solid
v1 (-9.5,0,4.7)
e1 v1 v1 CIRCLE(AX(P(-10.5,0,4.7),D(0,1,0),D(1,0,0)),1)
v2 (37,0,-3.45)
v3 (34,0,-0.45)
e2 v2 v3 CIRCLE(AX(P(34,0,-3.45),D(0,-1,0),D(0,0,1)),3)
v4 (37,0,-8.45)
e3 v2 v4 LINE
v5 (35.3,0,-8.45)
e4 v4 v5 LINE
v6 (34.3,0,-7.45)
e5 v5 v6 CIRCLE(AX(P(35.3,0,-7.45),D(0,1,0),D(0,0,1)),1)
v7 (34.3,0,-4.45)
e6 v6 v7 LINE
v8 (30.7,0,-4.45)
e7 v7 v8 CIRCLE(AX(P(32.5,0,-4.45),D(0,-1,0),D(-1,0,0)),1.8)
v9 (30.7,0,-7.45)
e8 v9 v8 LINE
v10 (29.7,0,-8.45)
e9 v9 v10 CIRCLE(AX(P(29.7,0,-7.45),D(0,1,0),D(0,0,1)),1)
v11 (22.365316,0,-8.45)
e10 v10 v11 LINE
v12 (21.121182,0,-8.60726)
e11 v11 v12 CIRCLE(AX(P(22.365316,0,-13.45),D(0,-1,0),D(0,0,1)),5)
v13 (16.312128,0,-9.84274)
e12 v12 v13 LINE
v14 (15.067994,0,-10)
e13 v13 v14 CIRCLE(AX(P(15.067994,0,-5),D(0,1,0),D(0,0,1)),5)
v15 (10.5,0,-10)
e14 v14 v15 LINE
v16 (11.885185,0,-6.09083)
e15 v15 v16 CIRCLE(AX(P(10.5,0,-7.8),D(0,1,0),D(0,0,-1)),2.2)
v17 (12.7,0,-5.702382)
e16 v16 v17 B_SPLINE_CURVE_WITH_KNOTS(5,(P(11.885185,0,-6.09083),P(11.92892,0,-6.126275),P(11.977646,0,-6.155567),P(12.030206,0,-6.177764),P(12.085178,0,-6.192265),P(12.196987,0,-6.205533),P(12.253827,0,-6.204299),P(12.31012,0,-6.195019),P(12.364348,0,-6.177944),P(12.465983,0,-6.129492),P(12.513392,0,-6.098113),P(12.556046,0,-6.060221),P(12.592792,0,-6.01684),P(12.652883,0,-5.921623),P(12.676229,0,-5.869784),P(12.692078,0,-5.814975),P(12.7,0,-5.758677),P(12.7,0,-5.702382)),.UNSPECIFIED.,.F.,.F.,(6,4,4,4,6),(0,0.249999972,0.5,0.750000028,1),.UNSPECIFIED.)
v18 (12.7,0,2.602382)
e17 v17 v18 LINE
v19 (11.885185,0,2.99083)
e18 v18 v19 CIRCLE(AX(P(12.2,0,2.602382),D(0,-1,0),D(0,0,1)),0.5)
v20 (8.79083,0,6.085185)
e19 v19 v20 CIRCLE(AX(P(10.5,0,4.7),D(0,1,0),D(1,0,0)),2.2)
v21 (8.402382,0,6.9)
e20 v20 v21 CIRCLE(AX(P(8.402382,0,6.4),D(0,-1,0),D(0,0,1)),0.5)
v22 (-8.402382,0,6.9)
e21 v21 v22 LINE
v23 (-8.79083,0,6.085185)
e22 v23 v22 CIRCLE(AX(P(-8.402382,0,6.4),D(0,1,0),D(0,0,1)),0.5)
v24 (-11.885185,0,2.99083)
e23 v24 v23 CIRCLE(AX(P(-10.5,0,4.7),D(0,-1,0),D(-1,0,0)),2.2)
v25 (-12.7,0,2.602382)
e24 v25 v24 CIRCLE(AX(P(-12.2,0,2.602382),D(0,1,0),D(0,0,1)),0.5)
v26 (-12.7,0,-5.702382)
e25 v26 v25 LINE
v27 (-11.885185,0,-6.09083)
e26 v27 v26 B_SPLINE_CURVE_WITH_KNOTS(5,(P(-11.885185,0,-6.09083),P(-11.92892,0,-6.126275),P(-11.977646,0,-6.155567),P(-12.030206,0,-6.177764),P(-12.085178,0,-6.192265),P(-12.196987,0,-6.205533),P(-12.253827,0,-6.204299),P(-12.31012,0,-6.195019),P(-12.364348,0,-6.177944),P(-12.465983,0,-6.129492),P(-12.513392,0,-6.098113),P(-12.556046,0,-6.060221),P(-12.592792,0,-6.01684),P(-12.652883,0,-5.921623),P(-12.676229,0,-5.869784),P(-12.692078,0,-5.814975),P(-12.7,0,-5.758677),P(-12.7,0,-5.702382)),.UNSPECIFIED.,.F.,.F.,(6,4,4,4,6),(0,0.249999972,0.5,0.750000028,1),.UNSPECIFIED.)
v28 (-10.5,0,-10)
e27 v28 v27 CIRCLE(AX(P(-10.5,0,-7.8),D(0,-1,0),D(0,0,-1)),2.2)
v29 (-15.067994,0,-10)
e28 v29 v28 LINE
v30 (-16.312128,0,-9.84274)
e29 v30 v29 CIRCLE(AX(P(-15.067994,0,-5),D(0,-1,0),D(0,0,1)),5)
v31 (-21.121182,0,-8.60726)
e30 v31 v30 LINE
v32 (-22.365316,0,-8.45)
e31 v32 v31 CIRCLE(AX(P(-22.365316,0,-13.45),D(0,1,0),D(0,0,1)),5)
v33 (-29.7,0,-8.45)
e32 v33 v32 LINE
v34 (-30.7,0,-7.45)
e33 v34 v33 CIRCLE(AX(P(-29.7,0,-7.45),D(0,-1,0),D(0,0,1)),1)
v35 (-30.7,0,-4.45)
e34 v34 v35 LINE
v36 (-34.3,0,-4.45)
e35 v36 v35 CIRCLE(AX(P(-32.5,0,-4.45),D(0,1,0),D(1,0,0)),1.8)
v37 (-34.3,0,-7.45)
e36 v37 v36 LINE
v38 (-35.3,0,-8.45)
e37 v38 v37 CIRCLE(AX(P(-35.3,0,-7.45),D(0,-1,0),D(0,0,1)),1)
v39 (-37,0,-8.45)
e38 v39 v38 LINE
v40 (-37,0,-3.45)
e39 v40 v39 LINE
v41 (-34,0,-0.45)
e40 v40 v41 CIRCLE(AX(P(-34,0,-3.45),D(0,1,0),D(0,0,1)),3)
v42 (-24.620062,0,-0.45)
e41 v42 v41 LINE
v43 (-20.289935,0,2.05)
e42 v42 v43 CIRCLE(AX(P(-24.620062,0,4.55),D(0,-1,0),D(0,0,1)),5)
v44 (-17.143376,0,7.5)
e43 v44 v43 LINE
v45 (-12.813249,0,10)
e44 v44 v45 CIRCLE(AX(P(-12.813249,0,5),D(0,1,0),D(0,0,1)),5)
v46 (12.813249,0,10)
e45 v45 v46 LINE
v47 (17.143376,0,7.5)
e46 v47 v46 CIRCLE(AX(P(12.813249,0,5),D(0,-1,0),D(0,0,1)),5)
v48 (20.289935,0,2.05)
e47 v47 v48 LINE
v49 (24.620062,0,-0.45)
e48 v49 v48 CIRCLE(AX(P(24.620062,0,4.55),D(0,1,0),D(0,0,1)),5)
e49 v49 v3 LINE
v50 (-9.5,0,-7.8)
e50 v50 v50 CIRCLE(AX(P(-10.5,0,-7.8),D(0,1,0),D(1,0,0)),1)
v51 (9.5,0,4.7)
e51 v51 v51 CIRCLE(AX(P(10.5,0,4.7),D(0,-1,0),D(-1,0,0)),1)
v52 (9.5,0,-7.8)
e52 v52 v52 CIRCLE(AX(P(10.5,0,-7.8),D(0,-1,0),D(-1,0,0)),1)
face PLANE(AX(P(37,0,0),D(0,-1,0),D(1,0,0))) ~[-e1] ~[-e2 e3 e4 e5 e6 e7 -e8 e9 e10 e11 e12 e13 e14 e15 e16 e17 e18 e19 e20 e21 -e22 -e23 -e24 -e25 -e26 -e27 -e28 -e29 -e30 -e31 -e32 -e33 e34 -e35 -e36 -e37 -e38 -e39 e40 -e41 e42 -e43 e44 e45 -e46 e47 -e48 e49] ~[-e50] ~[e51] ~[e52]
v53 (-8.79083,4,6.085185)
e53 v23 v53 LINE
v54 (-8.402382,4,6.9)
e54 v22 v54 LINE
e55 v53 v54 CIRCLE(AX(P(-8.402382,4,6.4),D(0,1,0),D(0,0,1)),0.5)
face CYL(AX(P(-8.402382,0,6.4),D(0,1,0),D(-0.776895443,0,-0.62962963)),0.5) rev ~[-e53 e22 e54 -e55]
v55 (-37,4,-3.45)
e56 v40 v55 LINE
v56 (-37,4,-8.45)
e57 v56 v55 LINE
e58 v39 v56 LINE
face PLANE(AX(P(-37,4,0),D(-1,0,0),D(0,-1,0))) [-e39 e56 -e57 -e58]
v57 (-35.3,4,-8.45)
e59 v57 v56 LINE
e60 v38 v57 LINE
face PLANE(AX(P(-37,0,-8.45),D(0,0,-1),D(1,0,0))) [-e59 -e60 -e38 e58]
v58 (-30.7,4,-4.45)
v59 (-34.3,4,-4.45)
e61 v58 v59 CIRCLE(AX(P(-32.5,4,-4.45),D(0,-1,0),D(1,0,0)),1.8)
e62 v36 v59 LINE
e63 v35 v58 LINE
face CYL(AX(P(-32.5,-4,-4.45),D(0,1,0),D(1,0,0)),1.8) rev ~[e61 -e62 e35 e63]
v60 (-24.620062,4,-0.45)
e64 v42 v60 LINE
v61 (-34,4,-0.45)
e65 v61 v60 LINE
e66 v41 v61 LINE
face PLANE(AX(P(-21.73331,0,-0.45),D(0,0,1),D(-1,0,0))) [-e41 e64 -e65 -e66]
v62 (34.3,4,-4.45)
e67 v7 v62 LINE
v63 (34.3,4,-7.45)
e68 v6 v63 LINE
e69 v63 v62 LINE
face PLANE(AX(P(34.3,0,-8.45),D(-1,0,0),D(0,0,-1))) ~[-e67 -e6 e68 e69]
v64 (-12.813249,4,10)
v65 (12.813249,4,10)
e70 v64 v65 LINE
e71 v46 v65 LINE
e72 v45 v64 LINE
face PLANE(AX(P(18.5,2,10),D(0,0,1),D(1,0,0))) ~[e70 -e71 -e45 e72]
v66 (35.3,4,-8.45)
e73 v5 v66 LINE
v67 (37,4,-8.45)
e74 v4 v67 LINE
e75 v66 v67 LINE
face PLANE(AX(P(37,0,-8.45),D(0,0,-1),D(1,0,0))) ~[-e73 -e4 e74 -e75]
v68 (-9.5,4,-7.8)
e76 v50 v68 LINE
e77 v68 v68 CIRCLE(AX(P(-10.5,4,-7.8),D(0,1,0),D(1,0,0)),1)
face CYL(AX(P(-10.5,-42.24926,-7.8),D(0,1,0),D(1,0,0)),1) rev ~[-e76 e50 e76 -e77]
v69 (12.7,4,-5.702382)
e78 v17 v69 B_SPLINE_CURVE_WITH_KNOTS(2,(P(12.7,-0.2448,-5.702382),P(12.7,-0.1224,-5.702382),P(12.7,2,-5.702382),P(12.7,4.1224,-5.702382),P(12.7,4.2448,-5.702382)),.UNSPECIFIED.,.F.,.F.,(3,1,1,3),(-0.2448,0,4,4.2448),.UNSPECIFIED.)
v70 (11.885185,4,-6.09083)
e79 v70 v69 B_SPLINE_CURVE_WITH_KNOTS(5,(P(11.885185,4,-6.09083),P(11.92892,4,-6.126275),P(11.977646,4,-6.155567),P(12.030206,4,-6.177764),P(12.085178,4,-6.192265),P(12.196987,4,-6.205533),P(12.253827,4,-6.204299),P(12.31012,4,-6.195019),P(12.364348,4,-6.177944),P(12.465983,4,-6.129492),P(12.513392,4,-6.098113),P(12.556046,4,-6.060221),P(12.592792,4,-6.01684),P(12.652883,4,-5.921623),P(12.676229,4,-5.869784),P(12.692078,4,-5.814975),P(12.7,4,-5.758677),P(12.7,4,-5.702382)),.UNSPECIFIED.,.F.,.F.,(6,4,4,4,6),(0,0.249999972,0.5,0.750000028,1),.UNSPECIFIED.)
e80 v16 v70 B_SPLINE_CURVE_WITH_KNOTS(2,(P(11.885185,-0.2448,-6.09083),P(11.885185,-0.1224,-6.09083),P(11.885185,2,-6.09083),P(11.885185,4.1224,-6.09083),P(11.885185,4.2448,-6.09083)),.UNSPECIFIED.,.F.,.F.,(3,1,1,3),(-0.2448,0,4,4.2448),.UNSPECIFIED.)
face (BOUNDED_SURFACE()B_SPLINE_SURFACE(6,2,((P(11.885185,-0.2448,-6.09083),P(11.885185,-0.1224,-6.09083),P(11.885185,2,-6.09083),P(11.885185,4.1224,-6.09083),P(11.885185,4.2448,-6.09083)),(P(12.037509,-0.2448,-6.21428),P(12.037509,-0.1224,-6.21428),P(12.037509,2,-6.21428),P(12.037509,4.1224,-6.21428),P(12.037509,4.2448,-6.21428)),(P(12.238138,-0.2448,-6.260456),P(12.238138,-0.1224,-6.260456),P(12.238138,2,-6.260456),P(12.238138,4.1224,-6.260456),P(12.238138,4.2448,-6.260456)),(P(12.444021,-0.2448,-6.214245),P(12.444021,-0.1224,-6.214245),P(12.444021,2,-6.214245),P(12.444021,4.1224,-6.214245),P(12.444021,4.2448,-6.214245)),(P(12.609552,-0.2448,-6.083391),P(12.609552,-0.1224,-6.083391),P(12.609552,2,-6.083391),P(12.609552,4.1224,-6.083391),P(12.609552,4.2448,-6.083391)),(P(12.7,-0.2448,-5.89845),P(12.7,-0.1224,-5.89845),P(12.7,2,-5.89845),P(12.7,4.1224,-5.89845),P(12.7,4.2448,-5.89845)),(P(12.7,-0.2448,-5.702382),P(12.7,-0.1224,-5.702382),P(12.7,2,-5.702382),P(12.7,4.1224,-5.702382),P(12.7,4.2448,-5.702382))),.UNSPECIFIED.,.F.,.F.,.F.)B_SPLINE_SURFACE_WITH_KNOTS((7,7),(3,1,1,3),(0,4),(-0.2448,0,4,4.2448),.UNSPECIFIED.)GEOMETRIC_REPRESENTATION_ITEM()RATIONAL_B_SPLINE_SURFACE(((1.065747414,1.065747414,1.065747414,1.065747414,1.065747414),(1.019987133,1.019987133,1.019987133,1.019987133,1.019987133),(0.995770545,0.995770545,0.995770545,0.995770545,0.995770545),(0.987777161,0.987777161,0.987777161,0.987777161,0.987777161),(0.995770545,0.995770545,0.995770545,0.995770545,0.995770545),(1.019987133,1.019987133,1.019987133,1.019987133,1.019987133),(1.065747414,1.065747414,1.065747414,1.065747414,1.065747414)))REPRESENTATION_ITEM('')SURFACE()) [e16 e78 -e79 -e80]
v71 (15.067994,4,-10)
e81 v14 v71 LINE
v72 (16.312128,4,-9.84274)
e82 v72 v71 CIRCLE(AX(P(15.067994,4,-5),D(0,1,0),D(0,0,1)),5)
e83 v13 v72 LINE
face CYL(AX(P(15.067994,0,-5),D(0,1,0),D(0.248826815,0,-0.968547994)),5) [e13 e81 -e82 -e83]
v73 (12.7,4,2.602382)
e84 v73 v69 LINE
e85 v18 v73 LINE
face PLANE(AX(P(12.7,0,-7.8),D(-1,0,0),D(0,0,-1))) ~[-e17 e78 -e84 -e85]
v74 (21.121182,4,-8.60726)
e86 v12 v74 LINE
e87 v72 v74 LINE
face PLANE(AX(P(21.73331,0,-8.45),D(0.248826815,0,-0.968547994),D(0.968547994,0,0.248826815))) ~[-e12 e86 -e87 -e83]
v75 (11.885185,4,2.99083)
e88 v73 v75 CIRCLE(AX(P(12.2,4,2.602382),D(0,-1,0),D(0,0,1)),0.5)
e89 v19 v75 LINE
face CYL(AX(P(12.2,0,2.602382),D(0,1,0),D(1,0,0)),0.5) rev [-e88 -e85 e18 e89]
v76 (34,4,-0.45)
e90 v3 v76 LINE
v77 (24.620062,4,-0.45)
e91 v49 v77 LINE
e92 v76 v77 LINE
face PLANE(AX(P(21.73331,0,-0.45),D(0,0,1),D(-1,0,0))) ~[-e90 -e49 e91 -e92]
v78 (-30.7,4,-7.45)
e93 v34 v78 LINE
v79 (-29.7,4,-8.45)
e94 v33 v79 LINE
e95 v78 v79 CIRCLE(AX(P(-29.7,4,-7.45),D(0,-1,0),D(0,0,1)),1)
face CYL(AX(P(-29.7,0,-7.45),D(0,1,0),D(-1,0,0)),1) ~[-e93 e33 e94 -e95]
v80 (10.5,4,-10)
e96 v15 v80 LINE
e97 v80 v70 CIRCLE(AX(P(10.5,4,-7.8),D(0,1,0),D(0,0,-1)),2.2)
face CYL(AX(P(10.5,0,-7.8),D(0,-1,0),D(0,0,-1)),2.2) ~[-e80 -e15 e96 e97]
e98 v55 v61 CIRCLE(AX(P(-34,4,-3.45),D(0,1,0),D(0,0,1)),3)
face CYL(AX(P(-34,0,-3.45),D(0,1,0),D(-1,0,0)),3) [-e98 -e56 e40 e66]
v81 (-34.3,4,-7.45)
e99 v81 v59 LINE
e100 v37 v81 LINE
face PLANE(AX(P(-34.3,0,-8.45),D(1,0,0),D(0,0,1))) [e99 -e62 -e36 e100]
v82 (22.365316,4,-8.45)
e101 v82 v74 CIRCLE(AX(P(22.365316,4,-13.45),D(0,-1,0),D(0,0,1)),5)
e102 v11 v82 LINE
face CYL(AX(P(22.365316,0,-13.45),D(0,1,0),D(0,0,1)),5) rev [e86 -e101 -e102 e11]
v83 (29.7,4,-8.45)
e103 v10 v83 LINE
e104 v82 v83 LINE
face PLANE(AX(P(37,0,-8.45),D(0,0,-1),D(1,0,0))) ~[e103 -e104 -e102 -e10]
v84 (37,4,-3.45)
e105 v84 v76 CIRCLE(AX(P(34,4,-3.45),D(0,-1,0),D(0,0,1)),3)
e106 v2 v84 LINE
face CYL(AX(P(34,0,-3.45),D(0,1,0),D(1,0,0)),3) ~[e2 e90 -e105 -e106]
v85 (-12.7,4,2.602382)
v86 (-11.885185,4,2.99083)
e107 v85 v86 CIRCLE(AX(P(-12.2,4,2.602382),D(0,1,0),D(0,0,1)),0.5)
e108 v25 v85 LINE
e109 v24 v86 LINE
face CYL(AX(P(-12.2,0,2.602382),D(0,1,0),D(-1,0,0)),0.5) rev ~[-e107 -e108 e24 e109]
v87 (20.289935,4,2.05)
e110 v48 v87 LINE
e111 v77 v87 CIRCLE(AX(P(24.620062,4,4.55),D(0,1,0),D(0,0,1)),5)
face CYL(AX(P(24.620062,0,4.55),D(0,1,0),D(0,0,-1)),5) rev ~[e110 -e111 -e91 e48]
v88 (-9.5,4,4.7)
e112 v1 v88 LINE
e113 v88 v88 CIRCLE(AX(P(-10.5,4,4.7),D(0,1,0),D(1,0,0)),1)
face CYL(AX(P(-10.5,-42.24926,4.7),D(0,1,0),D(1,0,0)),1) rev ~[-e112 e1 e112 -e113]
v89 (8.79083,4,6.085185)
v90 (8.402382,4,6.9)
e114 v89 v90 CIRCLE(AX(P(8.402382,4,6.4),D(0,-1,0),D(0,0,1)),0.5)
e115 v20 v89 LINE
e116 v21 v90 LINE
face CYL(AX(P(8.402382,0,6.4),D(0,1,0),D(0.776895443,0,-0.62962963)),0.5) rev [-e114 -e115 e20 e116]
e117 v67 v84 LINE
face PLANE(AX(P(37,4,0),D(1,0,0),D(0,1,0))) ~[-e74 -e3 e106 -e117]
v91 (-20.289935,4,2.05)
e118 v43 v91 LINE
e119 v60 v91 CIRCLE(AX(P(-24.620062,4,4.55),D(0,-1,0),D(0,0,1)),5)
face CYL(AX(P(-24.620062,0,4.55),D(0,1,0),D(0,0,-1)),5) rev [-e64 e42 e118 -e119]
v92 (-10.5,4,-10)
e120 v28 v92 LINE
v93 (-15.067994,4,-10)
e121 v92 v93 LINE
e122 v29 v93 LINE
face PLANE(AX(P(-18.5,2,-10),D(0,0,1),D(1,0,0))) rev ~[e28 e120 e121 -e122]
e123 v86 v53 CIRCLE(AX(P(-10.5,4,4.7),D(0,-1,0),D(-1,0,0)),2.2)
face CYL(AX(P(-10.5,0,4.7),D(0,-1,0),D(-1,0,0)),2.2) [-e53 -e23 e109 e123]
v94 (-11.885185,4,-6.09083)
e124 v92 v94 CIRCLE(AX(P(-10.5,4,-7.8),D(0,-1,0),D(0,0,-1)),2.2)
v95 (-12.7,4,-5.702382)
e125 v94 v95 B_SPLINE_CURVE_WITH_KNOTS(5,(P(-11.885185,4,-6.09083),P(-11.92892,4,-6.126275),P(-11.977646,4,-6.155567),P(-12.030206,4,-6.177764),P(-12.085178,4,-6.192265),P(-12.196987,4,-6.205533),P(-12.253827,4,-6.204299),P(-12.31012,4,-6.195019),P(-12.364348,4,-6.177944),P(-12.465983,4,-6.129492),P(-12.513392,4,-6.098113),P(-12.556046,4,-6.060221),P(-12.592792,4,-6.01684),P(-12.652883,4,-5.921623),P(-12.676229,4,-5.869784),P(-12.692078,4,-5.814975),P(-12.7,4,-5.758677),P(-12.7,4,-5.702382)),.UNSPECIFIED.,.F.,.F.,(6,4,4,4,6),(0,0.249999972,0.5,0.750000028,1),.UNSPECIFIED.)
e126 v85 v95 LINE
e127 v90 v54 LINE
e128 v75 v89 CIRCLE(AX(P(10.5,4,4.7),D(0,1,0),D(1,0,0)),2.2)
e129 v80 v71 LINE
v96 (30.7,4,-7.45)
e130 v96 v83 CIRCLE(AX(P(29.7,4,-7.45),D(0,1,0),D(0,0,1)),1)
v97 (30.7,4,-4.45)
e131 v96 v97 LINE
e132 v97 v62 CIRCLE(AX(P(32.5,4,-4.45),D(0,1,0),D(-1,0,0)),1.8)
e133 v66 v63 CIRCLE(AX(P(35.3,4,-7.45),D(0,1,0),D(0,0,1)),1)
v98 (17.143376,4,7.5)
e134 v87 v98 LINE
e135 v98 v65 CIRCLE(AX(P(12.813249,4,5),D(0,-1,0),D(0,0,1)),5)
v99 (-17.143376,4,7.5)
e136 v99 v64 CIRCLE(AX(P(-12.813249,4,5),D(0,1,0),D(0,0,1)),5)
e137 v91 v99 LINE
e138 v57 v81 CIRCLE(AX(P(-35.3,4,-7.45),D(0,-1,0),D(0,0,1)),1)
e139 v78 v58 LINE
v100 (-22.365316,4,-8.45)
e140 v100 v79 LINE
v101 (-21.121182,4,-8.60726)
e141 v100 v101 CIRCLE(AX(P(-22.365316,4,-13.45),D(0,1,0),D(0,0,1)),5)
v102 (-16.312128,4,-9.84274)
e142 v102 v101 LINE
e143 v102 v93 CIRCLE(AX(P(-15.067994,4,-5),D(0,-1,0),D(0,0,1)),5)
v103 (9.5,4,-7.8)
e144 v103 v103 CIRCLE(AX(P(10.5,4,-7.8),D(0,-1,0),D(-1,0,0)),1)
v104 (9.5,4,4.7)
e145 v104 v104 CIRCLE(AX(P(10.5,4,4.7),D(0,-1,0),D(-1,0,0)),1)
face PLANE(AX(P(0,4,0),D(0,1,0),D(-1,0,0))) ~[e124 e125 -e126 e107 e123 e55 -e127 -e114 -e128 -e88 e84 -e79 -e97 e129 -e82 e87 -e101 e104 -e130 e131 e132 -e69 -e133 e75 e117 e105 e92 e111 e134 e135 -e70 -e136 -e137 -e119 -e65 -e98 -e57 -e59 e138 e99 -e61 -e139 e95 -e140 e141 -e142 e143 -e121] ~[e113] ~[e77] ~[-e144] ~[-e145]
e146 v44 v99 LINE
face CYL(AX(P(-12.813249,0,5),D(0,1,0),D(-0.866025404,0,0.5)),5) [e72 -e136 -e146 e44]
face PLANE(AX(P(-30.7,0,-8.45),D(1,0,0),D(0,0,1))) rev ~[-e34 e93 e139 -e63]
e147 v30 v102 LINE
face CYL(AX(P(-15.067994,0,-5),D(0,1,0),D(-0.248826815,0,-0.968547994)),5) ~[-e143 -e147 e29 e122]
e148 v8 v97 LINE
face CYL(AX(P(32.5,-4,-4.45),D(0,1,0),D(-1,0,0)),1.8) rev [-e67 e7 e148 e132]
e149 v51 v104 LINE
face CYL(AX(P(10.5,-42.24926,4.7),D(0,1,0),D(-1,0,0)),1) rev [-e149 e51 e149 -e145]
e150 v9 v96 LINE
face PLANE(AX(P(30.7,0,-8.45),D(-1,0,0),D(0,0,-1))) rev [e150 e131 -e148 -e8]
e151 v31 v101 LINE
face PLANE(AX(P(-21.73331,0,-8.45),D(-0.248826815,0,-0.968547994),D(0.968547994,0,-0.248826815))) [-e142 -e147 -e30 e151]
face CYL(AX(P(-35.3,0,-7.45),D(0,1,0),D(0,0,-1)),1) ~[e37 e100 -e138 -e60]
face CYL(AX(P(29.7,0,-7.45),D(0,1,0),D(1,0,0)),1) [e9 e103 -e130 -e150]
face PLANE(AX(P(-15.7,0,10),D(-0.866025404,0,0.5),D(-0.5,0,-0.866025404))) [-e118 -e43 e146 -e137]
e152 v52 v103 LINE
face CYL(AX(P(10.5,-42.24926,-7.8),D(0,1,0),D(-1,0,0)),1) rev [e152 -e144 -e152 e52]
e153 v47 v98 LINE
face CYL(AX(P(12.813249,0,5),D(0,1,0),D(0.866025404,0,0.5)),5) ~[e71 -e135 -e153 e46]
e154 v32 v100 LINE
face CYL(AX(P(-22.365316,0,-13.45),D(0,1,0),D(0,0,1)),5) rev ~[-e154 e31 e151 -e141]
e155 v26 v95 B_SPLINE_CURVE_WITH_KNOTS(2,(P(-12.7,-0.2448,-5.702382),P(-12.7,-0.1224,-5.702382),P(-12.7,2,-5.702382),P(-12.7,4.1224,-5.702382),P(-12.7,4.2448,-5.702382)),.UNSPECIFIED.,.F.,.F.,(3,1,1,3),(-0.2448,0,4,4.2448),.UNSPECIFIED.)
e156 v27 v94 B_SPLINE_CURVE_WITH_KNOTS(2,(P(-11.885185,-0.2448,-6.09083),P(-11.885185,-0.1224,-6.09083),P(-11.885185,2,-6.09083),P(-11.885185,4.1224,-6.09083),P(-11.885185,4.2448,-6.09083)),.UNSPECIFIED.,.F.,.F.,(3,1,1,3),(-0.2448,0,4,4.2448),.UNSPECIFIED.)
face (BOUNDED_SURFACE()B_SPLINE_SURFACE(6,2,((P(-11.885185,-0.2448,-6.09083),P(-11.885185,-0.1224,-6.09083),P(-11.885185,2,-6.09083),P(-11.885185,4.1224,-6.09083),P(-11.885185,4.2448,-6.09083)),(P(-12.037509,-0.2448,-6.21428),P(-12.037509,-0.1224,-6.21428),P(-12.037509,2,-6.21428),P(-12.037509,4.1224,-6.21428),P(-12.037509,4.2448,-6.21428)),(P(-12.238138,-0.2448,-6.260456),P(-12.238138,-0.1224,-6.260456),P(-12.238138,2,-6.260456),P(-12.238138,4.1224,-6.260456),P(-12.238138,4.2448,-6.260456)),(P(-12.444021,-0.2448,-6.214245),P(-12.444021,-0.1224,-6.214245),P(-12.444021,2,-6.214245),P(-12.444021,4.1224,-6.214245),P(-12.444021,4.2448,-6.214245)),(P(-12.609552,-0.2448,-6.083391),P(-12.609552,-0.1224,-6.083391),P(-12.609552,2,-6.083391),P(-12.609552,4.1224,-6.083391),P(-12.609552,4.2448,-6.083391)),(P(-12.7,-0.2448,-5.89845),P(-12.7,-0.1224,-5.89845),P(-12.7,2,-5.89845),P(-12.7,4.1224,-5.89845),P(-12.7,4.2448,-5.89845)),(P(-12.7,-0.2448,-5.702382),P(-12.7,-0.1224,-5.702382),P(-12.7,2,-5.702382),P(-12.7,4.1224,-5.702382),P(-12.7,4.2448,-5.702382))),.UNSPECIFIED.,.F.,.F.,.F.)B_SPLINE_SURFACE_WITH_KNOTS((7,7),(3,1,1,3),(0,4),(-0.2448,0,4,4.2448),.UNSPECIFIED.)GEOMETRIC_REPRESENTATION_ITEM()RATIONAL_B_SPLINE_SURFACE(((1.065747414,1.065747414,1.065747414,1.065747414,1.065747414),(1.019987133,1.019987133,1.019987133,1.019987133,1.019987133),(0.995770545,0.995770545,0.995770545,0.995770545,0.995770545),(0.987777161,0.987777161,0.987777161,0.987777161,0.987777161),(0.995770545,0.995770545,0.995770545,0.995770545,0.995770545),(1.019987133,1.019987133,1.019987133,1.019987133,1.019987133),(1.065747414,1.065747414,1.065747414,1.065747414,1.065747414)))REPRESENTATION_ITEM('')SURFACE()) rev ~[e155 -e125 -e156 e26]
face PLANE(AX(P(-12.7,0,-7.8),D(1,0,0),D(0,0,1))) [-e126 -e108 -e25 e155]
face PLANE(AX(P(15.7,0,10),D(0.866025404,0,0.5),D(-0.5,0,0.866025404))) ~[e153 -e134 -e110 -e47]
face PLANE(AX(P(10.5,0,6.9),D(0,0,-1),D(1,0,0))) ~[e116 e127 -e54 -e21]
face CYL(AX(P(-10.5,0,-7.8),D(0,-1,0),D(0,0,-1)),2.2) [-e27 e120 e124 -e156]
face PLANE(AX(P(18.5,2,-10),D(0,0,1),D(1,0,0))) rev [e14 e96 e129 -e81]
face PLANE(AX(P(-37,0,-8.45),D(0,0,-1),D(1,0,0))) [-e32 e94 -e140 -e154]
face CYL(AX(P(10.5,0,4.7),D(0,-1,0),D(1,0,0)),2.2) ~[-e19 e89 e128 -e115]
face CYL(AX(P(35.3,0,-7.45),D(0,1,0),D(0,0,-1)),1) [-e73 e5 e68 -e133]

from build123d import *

# Parameters (mm, degrees)
BOSS_EXTRUDE1_DEPTH      = 10
SKETCH2_OUTSIDE_W        = 47.45
SKETCH2_OUTSIDE_H        = 30.449999999999996
CUT_EXTRUDE1_DEPTH       = 20
F_2_0MM_DOWEL_HOLE1_D    = 2
M3_CLEARANCE_HOLE1_D     = 3.6
M3_CLEARANCE_HOLE1_DEPTH = 4
M3_CLEARANCE_HOLE1_TIP   = 1.0815491142496085
FILLET2_R                = 3
FILLET3_R                = 5
FILLET5_R                = 0.5
CUT_EXTRUDE2_REACH       = 40.536
SKETCH14_W               = 3.6000000000000014
SKETCH14_H               = 4
FILLET6_R                = 1


with BuildPart() as part:
    # Sketch1 → Boss-Extrude1 (new, symmetric)
    with BuildSketch(Plane.XY):
        Polygon((0, 0), (0, 4), (-37, 3.9999999999999956), (-37, 0), align=None)
    extrude(amount=BOSS_EXTRUDE1_DEPTH, both=True)

    # Sketch2 outside → Cut-Extrude1 (cut)
    with BuildSketch(Plane.XZ):
        with Locations((-18.5, 0)):
            Rectangle(SKETCH2_OUTSIDE_W, SKETCH2_OUTSIDE_H)
        with BuildLine():
            Line((-12.7, -7.800000000000001), (-12.699999999999998, 4.7))
            ThreePointArc((-12.699999999999998, 4.7), (-8.944365081389599, 3.144365081389597), (-10.5, 6.899999999999999))
            Line((-10.5, 6.899999999999999), (3.8e-16, 6.9))
            Line((3.8e-16, 6.9), (0, 10))
            Line((0, 10), (-15.699999999999996, 10.000000000000002))
            Line((-15.699999999999996, 10.000000000000002), (-21.733310313031556, -0.449999999999999))
            Line((-21.733310313031556, -0.449999999999999), (-37, -0.4499999999999973))
            Line((-37, -0.4499999999999973), (-37, -8.450000000000001))
            Line((-37, -8.450000000000001), (-21.733310313031556, -8.45))
            Line((-21.733310313031556, -8.45), (-15.699999999999996, -10.000000000000002))
            Line((-15.699999999999996, -10.000000000000002), (-10.499999999999998, -9.999999999999998))
            ThreePointArc((-10.499999999999998, -9.999999999999998), (-8.944365081389593, -6.244365081389596), (-12.7, -7.800000000000001))
        make_face(mode=Mode.SUBTRACT)
    extrude(amount=-CUT_EXTRUDE1_DEPTH, mode=Mode.SUBTRACT)

    # Ø2.0mm Dowel Hole1 (through all)
    with Locations(Plane(origin=(0, 0, 0), x_dir=(-1, 0, 0), z_dir=(0, -1, 0))):
        with Locations((10.5, -4.7), (10.5, 7.8)):
            Hole(F_2_0MM_DOWEL_HOLE1_D / 2)

    # M3 Clearance Hole1
    with Locations(Plane(origin=(0, 0, 0), x_dir=(-1, 0, 0), z_dir=(0, -1, 0))):
        with Locations((32.5, 4.45)):
            Hole(M3_CLEARANCE_HOLE1_D / 2, depth=M3_CLEARANCE_HOLE1_DEPTH)
            with Locations((0, 0, -(M3_CLEARANCE_HOLE1_DEPTH + M3_CLEARANCE_HOLE1_TIP / 2))):  # 118° drill point
                Cone(0, M3_CLEARANCE_HOLE1_D / 2, M3_CLEARANCE_HOLE1_TIP, mode=Mode.SUBTRACT)

    # Fillet2
    fillet2_edges = [part.edges().sort_by_distance(p)[0] for p in [
        (-37, 1.9999999999999978, -0.4499999999999973),
    ]]
    fillet(fillet2_edges, radius=FILLET2_R)

    # Fillet3
    fillet3_edges = [part.edges().sort_by_distance(p)[0] for p in [
        (-15.699999999999996, 1.9999999999999991, 10.000000000000002),
        (-15.699999999999996, 1.9999999999999991, -10.000000000000002),
        (-21.733310313031556, 1.9999999999999987, -0.449999999999999),
        (-21.733310313031556, 1.9999999999999987, -8.45),
    ]]
    fillet(fillet3_edges, radius=FILLET3_R)

    # Fillet5
    fillet5_edges = [part.edges().sort_by_distance(p)[0] for p in [
        (-10.5, 1.9999999999999993, 6.899999999999999),
        (-12.699999999999998, 1.9999999999999993, 4.7),
        (-12.7, 1.9999999999999993, -7.800000000000001),
    ]]
    fillet(fillet5_edges, radius=FILLET5_R)

    # Sketch14 → Cut-Extrude2 (cut, up to next)
    with BuildSketch(Plane.XZ, mode=Mode.PRIVATE) as cut_extrude2_sk1:
        with Locations((-32.5, -6.449999999999999)):
            Rectangle(SKETCH14_W, SKETCH14_H)
    cut_extrude2_tool1 = extrude(cut_extrude2_sk1.sketch, amount=-CUT_EXTRUDE2_REACH, mode=Mode.PRIVATE) & part.part
    add(cut_extrude2_tool1.solids().sort_by_distance((-32.5, 0, -6.45))[0], mode=Mode.SUBTRACT)

    # Fillet6
    fillet6_edges = [part.edges().sort_by_distance(p)[0] for p in [
        (-30.700000000000003, 1.9999999999999982, -8.45),
        (-34.300000000000004, 1.999999999999998, -8.45),
    ]]
    fillet(fillet6_edges, radius=FILLET6_R)

    # Mirror1: part across plane


with BuildPart() as part_1:
    add(part.part)
    add(part.part.mirror(Plane(origin=(0, 0, -10), x_dir=(0, 0, 1), z_dir=(1, 0, 0))))


solid = part_1.part
